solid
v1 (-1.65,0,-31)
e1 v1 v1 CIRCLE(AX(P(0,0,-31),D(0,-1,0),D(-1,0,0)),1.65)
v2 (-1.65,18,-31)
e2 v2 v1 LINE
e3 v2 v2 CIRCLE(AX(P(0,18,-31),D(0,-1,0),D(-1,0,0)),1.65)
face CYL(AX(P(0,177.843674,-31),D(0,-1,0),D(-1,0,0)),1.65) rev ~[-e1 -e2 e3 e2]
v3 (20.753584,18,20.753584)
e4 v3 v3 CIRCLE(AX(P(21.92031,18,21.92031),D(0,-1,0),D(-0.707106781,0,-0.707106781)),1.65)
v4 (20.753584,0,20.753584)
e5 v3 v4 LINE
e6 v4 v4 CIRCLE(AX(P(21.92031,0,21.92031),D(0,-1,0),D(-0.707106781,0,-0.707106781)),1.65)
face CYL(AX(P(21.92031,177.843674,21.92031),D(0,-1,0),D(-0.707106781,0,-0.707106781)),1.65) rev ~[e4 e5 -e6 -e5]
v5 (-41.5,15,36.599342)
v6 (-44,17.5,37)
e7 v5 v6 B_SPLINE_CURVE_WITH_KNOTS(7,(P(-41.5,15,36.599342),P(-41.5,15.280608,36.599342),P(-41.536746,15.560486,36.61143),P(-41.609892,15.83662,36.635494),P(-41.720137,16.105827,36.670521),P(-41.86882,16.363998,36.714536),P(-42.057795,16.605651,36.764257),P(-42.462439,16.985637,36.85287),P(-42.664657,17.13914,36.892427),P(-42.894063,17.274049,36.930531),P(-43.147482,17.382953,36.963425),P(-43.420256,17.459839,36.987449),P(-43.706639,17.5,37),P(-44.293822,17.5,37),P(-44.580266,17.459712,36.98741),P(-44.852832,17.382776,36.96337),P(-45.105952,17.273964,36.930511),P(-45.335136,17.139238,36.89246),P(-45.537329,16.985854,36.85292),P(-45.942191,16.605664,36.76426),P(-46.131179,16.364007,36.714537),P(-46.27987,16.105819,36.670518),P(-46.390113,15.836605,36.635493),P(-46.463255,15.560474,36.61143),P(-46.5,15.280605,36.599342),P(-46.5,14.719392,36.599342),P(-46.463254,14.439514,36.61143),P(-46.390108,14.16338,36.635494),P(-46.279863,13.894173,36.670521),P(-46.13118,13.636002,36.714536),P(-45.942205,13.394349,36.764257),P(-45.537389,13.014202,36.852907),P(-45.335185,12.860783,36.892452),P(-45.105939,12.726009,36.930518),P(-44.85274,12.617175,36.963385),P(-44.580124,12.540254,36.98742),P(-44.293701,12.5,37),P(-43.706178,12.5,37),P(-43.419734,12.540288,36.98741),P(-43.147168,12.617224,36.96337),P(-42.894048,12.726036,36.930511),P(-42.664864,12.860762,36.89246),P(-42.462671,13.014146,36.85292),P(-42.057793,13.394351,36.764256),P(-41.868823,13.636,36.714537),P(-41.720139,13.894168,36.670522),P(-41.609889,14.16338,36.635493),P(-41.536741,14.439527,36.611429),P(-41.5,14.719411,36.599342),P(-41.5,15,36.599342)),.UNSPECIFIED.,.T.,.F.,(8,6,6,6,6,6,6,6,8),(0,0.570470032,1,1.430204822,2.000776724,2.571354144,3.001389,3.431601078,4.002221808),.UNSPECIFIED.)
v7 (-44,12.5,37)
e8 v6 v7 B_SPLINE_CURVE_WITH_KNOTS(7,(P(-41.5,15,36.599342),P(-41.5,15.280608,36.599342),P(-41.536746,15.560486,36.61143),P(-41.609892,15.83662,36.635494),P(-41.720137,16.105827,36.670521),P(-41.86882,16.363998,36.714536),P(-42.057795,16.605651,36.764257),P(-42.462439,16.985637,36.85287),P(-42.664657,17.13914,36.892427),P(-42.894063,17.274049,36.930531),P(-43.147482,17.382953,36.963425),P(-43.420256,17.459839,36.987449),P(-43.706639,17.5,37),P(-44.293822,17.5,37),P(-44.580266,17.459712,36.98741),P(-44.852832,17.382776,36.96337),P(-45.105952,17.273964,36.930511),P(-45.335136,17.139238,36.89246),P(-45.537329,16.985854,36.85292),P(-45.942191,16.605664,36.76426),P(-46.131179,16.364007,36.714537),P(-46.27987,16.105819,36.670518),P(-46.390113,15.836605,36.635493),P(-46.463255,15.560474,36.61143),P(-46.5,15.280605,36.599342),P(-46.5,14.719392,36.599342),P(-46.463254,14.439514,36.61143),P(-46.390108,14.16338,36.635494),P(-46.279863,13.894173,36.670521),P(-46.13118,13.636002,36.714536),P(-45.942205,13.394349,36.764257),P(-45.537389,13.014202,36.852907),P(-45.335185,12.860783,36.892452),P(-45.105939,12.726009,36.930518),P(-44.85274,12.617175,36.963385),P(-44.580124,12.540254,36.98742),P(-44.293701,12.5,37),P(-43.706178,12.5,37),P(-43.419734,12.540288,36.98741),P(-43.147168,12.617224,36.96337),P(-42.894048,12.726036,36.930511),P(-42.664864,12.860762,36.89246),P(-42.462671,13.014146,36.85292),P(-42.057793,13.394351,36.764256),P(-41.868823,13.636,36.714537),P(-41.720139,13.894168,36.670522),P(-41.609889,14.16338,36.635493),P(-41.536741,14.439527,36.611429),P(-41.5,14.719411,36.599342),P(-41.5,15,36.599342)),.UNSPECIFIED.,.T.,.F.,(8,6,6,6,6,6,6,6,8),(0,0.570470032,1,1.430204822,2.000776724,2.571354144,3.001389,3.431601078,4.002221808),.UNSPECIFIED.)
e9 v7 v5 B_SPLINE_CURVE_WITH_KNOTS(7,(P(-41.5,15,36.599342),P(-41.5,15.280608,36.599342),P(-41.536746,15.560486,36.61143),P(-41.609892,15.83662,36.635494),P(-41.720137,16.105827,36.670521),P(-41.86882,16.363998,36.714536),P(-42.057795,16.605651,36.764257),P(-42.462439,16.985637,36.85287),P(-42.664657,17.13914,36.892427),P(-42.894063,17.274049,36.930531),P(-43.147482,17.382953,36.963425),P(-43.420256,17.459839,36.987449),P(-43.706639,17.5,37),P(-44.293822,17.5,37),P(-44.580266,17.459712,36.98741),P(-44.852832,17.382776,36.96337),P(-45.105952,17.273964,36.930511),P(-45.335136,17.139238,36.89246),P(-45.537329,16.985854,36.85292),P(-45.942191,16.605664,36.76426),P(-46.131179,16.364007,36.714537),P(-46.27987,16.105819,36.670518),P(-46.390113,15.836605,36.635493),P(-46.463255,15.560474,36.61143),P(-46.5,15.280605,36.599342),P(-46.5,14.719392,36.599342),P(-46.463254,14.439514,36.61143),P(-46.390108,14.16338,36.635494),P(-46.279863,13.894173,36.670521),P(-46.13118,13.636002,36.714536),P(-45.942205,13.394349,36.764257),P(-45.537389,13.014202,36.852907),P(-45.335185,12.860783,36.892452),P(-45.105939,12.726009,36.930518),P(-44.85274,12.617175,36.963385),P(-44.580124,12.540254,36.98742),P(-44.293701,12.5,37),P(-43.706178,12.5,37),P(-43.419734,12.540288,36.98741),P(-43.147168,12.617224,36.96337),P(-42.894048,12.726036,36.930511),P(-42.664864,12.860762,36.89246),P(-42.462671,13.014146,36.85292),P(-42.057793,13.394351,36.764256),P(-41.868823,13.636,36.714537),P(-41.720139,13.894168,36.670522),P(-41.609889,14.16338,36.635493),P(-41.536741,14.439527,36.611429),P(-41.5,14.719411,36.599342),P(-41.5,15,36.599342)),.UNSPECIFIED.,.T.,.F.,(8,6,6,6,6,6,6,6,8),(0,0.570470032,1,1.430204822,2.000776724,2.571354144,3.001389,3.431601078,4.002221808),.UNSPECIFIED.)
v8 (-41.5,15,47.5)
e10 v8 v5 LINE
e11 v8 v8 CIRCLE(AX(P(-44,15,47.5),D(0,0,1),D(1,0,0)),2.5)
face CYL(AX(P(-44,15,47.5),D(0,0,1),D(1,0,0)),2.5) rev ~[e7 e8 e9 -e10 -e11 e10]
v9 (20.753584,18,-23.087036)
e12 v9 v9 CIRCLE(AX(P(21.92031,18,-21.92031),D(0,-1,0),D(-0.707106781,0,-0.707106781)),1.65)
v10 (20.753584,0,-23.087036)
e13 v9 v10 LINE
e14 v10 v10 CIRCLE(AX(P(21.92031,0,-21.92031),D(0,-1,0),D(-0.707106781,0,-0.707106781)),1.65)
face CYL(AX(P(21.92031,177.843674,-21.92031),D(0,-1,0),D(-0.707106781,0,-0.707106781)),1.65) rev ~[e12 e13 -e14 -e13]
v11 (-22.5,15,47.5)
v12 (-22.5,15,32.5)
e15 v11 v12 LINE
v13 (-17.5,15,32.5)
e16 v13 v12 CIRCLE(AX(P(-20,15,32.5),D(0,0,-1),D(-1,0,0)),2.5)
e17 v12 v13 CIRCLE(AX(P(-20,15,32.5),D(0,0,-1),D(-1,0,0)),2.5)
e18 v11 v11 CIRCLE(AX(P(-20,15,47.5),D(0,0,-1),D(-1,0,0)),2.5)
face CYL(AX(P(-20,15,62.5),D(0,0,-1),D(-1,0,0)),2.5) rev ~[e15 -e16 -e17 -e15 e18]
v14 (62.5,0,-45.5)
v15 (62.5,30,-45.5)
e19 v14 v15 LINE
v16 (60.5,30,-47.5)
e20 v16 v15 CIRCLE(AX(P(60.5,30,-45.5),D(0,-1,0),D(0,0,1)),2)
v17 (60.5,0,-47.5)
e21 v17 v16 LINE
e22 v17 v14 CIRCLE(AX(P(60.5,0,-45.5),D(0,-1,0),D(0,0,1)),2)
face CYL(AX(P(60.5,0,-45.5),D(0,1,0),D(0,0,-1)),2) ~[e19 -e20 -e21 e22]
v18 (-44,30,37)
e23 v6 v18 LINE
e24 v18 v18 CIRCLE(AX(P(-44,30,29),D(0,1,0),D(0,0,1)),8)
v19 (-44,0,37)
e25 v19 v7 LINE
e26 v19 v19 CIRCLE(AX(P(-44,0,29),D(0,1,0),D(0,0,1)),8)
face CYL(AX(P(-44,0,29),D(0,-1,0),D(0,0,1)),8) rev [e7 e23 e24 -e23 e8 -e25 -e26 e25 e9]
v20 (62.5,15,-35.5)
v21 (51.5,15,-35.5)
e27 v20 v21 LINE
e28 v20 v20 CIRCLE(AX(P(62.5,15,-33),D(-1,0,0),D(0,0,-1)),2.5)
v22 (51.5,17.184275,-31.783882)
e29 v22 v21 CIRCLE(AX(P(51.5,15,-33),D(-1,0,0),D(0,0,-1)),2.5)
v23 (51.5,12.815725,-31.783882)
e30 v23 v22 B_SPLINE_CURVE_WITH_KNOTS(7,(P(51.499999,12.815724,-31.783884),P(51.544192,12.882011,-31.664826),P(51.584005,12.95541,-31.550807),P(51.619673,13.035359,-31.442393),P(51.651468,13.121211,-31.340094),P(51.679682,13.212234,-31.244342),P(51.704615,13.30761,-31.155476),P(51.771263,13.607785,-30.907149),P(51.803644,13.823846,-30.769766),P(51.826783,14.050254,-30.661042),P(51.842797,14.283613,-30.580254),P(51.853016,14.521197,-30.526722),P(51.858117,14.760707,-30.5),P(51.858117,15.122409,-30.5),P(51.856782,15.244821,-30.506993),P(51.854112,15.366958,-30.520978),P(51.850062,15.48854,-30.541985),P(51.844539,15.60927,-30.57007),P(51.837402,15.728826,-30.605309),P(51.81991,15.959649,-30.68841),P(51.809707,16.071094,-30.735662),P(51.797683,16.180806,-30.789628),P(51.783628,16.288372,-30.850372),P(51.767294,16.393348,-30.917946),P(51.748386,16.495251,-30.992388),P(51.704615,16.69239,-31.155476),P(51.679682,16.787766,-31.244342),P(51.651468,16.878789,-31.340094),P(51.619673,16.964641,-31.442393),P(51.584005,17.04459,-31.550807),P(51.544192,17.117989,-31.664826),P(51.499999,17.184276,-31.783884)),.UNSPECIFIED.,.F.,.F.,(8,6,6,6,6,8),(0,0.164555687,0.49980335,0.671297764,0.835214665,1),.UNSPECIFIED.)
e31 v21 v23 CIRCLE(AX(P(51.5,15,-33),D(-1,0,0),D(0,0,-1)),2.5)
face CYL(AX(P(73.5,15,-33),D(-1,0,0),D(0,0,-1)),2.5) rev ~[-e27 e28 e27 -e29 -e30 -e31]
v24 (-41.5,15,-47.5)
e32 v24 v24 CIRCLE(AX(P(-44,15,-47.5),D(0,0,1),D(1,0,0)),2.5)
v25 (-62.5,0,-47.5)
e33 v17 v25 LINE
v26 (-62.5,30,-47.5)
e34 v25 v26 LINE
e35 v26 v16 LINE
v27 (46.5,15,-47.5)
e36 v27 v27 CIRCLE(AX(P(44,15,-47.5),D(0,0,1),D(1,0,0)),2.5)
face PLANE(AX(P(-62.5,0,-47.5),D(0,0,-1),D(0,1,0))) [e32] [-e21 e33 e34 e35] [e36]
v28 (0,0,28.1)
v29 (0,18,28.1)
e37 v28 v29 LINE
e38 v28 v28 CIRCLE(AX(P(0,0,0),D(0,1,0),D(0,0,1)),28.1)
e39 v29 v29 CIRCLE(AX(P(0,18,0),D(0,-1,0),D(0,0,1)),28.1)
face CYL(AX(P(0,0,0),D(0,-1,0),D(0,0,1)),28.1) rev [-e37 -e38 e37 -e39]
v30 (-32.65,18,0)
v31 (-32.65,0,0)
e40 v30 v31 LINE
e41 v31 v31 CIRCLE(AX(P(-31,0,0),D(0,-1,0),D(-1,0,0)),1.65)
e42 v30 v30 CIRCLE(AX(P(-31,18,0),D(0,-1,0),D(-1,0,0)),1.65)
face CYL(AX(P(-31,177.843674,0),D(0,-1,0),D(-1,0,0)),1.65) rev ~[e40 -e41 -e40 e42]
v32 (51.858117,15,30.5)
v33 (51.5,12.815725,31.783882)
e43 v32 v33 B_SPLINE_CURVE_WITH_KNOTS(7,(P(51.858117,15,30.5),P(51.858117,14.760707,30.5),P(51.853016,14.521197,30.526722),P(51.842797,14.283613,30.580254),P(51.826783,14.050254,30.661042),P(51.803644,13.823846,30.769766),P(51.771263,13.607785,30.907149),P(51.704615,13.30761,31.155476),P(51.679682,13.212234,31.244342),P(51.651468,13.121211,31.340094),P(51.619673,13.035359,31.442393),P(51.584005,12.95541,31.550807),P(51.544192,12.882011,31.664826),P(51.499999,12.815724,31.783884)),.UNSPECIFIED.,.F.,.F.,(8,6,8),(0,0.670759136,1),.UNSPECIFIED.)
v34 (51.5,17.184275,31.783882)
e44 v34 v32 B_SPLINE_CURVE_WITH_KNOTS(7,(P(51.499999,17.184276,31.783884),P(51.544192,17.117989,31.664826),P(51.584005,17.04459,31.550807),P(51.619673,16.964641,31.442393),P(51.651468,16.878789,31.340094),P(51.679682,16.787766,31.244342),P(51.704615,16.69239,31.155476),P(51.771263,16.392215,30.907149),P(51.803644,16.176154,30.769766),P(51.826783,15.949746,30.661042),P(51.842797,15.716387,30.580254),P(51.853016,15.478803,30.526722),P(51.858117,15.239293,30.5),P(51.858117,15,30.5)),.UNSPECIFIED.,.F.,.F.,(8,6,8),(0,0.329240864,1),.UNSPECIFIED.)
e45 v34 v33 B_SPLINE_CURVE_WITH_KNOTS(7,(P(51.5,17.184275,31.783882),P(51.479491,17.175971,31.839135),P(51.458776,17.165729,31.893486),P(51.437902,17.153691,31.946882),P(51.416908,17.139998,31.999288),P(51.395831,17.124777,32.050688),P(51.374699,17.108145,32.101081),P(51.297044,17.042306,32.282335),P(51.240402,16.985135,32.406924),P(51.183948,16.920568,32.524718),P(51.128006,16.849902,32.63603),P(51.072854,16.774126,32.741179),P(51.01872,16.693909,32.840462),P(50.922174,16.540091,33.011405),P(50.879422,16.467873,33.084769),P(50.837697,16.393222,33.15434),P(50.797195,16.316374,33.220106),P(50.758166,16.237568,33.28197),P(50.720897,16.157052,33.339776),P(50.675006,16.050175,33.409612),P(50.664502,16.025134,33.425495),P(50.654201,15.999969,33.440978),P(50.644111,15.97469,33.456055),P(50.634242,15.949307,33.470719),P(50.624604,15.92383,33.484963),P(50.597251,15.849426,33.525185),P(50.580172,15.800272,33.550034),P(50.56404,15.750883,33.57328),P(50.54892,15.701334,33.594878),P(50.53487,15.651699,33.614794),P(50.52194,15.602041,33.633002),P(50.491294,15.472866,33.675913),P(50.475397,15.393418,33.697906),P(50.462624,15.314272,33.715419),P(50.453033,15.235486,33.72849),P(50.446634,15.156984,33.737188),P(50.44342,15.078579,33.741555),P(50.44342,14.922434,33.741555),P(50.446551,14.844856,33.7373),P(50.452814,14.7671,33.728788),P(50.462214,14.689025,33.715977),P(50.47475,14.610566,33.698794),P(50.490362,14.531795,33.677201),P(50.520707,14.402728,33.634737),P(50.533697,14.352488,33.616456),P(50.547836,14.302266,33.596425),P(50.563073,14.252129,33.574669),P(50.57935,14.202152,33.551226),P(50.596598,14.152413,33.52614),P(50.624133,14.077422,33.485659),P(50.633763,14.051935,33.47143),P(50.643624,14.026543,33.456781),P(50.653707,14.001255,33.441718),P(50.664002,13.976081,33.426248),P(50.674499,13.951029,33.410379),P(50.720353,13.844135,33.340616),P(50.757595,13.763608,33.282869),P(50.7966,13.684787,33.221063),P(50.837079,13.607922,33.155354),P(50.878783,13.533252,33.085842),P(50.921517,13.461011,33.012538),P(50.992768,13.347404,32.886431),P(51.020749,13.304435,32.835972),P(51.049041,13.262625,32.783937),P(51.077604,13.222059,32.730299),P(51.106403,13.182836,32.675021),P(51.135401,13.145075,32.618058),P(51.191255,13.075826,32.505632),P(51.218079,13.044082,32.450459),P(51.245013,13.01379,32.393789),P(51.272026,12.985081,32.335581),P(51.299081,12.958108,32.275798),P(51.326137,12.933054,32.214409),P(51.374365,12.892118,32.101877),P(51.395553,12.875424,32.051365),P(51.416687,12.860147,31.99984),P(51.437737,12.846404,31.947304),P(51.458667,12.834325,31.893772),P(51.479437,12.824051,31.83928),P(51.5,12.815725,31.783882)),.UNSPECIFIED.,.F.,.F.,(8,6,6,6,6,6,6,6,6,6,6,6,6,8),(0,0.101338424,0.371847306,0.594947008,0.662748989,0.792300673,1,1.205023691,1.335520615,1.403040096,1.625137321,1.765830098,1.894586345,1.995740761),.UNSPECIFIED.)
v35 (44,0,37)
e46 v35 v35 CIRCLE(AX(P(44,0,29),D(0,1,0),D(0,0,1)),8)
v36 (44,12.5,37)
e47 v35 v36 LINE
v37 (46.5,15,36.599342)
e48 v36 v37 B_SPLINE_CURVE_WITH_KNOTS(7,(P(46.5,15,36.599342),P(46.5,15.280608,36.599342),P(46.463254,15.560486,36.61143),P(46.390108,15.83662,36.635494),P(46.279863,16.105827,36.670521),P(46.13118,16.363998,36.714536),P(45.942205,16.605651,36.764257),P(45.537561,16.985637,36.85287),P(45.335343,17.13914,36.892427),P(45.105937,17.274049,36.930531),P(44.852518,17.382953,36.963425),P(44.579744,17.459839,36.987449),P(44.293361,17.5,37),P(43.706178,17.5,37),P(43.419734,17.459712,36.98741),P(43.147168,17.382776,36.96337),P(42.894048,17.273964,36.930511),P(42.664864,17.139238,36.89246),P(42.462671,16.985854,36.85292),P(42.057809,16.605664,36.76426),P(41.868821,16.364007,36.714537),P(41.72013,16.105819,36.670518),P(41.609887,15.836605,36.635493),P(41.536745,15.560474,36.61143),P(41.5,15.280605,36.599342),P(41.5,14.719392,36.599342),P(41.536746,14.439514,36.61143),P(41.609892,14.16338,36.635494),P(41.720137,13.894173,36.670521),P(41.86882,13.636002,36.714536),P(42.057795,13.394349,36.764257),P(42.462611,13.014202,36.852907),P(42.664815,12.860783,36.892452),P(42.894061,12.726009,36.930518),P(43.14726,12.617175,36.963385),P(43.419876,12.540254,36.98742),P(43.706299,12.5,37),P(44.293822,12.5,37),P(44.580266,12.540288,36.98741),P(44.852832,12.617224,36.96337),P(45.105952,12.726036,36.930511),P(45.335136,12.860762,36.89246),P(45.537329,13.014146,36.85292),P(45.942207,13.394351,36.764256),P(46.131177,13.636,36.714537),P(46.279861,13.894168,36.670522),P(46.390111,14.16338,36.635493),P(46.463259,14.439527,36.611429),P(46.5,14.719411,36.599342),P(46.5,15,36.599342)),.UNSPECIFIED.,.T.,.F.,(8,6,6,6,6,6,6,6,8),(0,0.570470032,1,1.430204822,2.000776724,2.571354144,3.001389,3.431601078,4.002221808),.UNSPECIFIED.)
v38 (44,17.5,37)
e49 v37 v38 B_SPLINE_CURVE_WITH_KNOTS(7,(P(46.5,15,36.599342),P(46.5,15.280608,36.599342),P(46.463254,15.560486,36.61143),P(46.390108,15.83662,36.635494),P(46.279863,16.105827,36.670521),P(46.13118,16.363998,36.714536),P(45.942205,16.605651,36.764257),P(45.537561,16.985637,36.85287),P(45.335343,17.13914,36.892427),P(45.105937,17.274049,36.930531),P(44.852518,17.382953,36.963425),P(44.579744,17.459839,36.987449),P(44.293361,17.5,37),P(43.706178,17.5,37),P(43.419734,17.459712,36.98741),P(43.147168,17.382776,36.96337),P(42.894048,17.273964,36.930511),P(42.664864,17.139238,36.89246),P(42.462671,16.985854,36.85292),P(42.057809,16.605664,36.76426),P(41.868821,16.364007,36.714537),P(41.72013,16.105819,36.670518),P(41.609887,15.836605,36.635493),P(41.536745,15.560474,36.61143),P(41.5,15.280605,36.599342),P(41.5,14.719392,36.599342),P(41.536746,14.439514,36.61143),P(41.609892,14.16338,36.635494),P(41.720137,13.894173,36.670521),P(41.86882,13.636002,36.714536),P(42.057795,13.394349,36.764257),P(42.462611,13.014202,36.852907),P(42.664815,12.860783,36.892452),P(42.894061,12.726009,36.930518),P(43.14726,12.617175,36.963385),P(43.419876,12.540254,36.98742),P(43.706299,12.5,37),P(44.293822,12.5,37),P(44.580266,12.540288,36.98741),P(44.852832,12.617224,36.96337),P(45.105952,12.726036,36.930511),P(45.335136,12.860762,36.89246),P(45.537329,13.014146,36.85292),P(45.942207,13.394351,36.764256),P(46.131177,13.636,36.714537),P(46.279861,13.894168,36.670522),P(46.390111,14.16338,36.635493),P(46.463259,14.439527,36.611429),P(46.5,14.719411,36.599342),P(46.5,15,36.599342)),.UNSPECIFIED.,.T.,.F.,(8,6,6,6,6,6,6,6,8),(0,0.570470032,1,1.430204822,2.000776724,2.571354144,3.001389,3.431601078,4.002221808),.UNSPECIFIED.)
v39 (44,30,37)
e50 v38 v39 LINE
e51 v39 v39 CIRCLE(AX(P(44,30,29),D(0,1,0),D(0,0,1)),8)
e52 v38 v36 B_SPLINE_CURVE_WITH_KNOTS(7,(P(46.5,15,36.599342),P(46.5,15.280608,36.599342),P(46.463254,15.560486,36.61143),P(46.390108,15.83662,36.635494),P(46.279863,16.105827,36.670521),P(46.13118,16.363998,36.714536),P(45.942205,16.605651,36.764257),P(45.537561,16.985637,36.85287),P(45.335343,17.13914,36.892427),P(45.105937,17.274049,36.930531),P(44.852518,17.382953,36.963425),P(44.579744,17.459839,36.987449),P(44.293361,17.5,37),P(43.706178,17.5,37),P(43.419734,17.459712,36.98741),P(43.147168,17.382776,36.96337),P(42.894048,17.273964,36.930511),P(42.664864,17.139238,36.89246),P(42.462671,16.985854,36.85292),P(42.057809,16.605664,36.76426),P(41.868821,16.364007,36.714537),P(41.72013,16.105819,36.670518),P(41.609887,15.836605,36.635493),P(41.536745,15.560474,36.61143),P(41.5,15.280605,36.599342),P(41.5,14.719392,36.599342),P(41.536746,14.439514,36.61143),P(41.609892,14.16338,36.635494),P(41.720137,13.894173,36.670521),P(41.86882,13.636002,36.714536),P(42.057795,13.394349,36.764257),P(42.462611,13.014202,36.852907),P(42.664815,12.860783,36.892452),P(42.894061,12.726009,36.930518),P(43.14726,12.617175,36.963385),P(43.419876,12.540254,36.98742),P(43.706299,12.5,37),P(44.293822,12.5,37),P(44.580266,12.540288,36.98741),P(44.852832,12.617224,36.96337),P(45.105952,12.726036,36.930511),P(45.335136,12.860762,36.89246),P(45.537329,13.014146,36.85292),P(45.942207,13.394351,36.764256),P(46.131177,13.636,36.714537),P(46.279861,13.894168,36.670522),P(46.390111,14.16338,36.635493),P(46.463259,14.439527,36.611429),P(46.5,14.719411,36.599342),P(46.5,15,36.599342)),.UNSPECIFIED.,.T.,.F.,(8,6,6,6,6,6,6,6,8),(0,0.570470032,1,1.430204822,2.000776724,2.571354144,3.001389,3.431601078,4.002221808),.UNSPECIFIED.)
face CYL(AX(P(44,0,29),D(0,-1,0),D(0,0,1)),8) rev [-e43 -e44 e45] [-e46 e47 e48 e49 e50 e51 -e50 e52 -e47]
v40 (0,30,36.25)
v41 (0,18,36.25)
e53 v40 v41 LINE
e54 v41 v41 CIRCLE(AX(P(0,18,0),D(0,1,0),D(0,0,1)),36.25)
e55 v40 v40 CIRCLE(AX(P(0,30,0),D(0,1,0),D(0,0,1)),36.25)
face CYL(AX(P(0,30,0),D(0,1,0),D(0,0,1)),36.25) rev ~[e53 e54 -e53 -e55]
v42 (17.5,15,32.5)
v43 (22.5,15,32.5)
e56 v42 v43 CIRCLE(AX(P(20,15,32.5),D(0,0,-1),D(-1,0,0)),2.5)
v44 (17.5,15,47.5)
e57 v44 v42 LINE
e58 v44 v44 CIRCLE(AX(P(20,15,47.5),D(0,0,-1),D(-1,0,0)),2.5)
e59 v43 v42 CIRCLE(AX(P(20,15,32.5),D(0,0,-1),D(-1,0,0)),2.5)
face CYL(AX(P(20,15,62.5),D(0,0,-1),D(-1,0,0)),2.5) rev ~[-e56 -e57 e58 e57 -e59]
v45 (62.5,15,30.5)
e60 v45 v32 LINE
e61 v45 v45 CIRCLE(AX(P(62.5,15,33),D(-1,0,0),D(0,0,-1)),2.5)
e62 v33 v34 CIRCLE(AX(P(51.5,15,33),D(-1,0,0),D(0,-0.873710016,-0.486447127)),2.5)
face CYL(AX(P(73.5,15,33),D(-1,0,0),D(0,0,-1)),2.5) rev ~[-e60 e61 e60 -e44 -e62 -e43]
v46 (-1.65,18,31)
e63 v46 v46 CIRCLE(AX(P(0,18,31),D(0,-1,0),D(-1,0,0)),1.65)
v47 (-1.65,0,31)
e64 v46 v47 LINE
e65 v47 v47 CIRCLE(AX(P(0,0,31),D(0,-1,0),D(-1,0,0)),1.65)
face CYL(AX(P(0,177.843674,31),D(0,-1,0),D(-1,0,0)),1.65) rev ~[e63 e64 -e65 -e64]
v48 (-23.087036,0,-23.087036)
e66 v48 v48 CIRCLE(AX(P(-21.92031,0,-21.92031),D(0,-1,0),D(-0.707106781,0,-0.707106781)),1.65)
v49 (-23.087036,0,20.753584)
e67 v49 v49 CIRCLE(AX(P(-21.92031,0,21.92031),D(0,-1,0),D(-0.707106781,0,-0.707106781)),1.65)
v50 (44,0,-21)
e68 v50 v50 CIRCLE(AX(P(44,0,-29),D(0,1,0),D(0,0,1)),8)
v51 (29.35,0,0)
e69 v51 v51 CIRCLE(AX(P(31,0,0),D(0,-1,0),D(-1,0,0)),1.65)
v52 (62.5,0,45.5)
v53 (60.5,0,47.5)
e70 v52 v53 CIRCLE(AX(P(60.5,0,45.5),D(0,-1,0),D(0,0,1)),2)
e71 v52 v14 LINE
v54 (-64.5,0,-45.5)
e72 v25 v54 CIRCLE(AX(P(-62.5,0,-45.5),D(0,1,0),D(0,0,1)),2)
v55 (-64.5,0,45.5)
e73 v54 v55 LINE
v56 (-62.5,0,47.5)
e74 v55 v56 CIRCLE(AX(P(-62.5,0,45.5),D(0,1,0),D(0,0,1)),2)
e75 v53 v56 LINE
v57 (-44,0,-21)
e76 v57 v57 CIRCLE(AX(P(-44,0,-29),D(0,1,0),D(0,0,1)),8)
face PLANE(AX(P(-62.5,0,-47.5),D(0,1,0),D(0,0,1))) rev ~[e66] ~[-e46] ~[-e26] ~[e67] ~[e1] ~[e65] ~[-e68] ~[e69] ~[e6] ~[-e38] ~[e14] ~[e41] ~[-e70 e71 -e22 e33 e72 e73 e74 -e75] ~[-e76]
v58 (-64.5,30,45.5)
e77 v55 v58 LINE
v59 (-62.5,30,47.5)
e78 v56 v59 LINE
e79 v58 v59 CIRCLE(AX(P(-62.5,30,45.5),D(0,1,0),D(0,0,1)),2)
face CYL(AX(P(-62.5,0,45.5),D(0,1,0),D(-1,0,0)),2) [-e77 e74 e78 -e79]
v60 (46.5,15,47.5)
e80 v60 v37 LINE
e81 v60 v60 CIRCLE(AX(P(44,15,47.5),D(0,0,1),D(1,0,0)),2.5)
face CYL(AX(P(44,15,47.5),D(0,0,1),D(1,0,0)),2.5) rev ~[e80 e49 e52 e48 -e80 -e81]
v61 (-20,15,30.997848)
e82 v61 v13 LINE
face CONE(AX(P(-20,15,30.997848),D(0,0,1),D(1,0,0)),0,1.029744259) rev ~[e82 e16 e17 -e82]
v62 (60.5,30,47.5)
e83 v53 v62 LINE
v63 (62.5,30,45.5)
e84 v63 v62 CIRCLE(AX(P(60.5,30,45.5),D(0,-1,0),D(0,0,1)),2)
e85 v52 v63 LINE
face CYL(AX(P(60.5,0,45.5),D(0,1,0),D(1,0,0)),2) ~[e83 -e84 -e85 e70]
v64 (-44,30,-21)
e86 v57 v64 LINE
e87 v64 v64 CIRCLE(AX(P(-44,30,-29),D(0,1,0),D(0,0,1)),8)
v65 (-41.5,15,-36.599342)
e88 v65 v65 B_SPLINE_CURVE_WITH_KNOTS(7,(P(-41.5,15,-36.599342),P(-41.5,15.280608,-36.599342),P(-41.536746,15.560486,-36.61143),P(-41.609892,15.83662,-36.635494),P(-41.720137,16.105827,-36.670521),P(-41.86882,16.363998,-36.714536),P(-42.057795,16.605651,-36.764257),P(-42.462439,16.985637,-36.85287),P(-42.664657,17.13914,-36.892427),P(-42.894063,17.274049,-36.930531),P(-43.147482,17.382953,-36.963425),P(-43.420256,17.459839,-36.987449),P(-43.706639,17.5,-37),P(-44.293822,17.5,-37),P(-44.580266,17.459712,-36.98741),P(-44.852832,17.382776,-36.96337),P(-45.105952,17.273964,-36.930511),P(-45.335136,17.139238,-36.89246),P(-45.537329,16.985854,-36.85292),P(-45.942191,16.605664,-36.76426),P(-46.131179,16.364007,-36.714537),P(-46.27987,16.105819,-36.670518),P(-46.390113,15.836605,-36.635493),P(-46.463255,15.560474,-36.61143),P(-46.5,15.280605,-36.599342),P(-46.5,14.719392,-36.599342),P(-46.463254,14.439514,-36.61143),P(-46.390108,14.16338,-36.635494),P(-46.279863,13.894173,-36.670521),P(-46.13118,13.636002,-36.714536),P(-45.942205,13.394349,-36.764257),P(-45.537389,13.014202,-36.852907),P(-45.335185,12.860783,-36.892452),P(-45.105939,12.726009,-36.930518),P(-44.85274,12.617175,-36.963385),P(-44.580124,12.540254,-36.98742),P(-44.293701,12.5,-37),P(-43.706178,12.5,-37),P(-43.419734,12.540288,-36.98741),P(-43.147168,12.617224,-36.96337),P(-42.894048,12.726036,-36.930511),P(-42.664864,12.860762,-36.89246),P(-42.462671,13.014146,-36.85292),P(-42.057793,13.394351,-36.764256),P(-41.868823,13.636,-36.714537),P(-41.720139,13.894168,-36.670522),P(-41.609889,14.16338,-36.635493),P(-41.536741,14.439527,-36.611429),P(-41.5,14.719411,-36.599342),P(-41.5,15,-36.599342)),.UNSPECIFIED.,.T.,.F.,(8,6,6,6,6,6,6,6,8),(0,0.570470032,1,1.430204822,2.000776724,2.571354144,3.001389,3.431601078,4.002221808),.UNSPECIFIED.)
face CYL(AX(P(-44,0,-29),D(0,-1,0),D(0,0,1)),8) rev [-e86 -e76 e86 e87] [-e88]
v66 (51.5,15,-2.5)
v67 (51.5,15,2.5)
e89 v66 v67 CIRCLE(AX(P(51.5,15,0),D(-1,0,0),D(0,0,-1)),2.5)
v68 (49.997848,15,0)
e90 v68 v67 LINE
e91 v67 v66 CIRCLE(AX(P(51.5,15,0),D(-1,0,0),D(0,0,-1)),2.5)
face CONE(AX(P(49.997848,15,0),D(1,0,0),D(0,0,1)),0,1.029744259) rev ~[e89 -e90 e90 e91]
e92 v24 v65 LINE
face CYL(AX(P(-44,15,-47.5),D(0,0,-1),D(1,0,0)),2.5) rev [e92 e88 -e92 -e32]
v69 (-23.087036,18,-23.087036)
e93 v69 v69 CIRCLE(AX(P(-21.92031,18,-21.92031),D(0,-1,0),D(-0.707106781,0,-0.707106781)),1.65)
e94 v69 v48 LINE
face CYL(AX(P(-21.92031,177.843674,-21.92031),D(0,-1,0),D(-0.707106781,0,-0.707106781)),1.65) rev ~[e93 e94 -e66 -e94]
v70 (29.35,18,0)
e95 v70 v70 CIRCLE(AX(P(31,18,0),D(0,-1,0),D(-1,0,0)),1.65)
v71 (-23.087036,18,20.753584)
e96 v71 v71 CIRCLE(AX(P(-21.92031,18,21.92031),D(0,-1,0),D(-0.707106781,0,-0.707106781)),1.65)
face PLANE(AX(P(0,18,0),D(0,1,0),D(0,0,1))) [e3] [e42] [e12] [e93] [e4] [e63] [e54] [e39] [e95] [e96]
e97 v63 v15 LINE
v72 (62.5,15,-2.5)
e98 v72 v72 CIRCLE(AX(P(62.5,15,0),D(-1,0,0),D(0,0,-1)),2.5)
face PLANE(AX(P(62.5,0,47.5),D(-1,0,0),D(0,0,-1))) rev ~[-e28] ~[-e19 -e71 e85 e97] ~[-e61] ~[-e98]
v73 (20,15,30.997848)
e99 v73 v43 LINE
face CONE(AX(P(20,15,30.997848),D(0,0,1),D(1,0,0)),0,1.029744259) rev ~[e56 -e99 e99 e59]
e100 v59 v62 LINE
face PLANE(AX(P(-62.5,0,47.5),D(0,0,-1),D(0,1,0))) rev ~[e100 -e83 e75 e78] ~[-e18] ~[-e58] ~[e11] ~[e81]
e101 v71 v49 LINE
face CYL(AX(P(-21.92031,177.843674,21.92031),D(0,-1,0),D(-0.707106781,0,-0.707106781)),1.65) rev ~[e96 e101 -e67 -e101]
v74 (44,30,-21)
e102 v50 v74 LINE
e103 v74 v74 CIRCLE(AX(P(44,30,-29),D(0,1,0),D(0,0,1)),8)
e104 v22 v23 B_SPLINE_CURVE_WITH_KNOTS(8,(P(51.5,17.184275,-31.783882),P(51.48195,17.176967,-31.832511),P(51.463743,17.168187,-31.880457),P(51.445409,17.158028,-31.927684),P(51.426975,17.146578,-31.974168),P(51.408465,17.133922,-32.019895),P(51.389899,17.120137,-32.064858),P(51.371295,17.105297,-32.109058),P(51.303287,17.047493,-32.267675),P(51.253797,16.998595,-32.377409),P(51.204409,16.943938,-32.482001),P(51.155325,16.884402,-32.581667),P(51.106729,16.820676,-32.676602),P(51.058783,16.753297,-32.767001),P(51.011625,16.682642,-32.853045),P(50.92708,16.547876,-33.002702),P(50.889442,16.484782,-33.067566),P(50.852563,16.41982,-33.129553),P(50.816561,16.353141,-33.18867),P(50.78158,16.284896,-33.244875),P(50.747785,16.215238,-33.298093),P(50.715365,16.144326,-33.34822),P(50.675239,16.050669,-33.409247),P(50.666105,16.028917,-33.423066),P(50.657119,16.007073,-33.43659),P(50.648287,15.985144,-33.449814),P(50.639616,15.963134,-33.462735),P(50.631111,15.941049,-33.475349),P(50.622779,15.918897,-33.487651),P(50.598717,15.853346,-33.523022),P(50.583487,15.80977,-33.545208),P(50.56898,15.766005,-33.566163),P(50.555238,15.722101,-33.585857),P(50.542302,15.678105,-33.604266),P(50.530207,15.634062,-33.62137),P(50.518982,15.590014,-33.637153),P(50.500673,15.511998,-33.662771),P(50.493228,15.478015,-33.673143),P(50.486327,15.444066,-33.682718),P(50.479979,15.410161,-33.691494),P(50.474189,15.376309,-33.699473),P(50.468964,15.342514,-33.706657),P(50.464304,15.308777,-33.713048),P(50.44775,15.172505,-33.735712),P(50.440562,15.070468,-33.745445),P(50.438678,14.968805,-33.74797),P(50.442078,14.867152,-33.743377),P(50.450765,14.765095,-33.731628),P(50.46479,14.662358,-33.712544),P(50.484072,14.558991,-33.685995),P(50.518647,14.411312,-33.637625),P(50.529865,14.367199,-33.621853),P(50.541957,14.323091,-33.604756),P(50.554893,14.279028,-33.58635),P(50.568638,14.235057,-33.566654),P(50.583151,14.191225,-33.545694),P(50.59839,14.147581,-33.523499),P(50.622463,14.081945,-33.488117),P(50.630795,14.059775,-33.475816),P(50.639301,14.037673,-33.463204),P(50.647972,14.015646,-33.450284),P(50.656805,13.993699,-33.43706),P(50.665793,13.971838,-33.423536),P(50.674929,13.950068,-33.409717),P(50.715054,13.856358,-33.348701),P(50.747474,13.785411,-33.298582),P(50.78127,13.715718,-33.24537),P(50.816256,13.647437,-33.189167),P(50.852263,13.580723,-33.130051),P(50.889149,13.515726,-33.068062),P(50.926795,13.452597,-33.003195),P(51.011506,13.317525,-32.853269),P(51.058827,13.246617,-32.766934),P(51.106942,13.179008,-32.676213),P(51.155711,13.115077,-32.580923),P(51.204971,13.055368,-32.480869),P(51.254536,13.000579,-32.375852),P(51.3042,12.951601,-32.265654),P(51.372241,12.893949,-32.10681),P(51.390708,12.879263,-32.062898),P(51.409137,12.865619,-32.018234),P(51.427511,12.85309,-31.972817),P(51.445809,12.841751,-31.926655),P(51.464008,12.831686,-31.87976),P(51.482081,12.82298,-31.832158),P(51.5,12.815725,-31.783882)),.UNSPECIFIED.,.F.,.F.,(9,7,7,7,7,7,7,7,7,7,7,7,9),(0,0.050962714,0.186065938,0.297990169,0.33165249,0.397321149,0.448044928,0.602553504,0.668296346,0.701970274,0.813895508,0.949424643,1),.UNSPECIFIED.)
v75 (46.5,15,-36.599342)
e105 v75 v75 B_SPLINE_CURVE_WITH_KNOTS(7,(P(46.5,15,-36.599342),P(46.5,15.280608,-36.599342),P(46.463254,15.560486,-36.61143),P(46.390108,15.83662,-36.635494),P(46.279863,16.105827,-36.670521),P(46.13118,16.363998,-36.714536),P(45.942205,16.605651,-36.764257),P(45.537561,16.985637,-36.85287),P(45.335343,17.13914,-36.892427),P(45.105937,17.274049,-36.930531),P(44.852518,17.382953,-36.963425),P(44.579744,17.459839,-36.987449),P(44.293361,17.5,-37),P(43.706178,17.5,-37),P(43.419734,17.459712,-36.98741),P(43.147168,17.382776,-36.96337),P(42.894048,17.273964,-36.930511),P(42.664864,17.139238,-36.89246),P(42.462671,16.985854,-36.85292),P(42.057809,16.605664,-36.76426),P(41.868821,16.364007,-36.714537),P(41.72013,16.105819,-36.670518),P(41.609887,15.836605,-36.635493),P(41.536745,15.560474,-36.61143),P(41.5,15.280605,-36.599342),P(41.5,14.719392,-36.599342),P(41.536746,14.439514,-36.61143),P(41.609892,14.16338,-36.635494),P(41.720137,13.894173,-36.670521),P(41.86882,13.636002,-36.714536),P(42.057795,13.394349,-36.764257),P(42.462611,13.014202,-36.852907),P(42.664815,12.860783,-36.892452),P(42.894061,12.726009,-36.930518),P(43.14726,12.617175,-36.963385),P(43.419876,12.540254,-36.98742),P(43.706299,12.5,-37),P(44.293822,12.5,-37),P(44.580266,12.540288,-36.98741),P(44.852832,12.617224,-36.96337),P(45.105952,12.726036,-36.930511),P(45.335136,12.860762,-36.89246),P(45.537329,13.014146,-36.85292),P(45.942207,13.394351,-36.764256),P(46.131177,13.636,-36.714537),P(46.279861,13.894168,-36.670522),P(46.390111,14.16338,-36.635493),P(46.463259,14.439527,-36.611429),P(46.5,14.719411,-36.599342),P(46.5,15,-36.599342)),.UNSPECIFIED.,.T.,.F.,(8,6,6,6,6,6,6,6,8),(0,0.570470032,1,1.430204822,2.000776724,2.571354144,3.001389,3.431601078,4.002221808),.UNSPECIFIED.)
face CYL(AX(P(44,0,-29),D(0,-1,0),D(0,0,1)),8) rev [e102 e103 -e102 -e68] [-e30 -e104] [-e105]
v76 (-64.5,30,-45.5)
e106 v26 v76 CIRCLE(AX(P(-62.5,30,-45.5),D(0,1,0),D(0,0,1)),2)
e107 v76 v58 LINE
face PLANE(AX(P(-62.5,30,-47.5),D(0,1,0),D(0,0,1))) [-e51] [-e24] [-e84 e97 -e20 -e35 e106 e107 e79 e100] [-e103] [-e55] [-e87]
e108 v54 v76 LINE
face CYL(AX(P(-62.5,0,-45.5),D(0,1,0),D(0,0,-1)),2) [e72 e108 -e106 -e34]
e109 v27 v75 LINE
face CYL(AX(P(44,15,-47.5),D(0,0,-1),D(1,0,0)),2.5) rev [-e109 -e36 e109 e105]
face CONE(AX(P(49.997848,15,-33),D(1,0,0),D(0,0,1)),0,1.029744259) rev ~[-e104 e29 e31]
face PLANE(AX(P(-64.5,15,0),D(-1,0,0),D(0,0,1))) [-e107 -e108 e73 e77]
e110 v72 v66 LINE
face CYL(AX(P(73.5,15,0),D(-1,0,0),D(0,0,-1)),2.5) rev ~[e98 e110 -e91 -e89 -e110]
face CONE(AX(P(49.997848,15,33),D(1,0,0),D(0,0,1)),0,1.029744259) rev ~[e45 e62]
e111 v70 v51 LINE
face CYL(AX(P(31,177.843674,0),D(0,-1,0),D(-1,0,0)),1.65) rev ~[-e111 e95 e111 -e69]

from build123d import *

# Parameters (mm, degrees)
SKETCH2_W                  = 125
SKETCH2_H                  = 95
SKETCH2_R                  = 28.1
SKETCH2_R_2                = 8
BOSS_EXTRUDE1_DEPTH        = 30
SKETCH10_R                 = 36.25
CUT_EXTRUDE3_DEPTH         = 12
M4X0_7_TAPPED_HOLE1_D      = 3.3
M6X1_0_TAPPED_HOLE1_D      = 5
M6X1_0_TAPPED_HOLE1_DEPTH  = 15
M6X1_0_TAPPED_HOLE1_TIP    = 1.502151548
SKETCH19_W                 = 95
SKETCH19_H                 = 30
BOSS_EXTRUDE3_DEPTH        = 2
M6X1_0_TAPPED_HOLE2_D      = 5
M6X1_0_TAPPED_HOLE2_DEPTH  = 11
M6X1_0_TAPPED_HOLE2_TIP    = 1.502151548
CIRPATTERN1_COUNT          = 2
CIRPATTERN1_ANGLE          = 45
M6X1_0_TAPPED_HOLE5_REACH  = 120.681
M6X1_0_TAPPED_HOLE5_BORE_R = 2.5
FILLET1_R                  = 2


with BuildPart() as part:
    # Sketch2 → Boss-Extrude1 (new body)
    with BuildSketch(Plane(origin=(0, 0, 0), x_dir=(1, 0, 0), z_dir=(0, 1, 0))):
        Rectangle(SKETCH2_W, SKETCH2_H)
        with Locations(Location((0, 0, 0), (0, 0, 270))):
            Circle(SKETCH2_R, mode=Mode.SUBTRACT)
        with Locations(Location((44, 29, 0), (0, 0, 270))):
            Circle(SKETCH2_R_2, mode=Mode.SUBTRACT)
        with Locations(Location((44, -29, 0), (0, 0, 270))):
            Circle(SKETCH2_R_2, mode=Mode.SUBTRACT)
        with Locations(Location((-44, -29, 0), (0, 0, 270))):
            Circle(SKETCH2_R_2, mode=Mode.SUBTRACT)
        with Locations(Location((-44, 29, 0), (0, 0, 270))):
            Circle(SKETCH2_R_2, mode=Mode.SUBTRACT)
    extrude(amount=BOSS_EXTRUDE1_DEPTH)

    # Sketch10 → Cut-Extrude3 (cut)
    with BuildSketch(Plane(origin=(0, 30, 0), x_dir=(1, 0, 0), z_dir=(0, 1, 0))):
        with Locations(Location((0, 0, 0), (0, 0, 270))):
            Circle(SKETCH10_R)
    extrude(amount=-CUT_EXTRUDE3_DEPTH, mode=Mode.SUBTRACT)

    # M4x0.7 Tapped Hole1 (through all)
    with Locations(Plane(origin=(0, 18, 0), x_dir=(1, 0, 0), z_dir=(0, 1, 0))):
        with Locations((0, 31), (31, 0), (0, -31), (-31, 0)):
            m4x0_7_tapped_hole1 = Hole(M4X0_7_TAPPED_HOLE1_D / 2)

    # M6x1.0 Tapped Hole1
    with Locations(Plane.XY.offset(47.5)):
        with Locations((-20, 15), (20, 15)):
            Hole(M6X1_0_TAPPED_HOLE1_D / 2, depth=M6X1_0_TAPPED_HOLE1_DEPTH)
            with Locations((0, 0, -(M6X1_0_TAPPED_HOLE1_DEPTH + M6X1_0_TAPPED_HOLE1_TIP / 2))):  # 118° drill point
                Cone(0, M6X1_0_TAPPED_HOLE1_D / 2, M6X1_0_TAPPED_HOLE1_TIP, mode=Mode.SUBTRACT)

    # Sketch19 → Boss-Extrude3 (add)
    with BuildSketch(Plane.ZY.offset(62.5)):
        with Locations((0, 15)):
            Rectangle(SKETCH19_W, SKETCH19_H)
    extrude(amount=BOSS_EXTRUDE3_DEPTH)

    # M6x1.0 Tapped Hole2
    with Locations(Plane(origin=(62.5, 0, 0), x_dir=(0, 0, 1), z_dir=(1, 0, 0))):
        with Locations((33, -15), (0, -15), (-33, -15)):
            Hole(M6X1_0_TAPPED_HOLE2_D / 2, depth=M6X1_0_TAPPED_HOLE2_DEPTH)
            with Locations((0, 0, -(M6X1_0_TAPPED_HOLE2_DEPTH + M6X1_0_TAPPED_HOLE2_TIP / 2))):  # 118° drill point
                Cone(0, M6X1_0_TAPPED_HOLE2_D / 2, M6X1_0_TAPPED_HOLE2_TIP, mode=Mode.SUBTRACT)

    # CirPattern1: M4x0.7 Tapped Hole1 ×2 about axis
    cirpattern1_axis = Axis((0, 0, 0), (0, -1, 0))
    for i in range(1, CIRPATTERN1_COUNT):
        add(m4x0_7_tapped_hole1.rotate(cirpattern1_axis, i * CIRPATTERN1_ANGLE / (CIRPATTERN1_COUNT - 1)), mode=Mode.SUBTRACT)

    # M6x1.0 Tapped Hole5 bore → M6x1.0 Tapped Hole5 (cut, up to next)
    with BuildSketch(Plane.XY.offset(47.5), mode=Mode.PRIVATE) as m6x1_0_tapped_hole5_sk1:
        with Locations((44, 15)):
            Circle(M6X1_0_TAPPED_HOLE5_BORE_R)
    m6x1_0_tapped_hole5_tool1 = extrude(m6x1_0_tapped_hole5_sk1.sketch, amount=-M6X1_0_TAPPED_HOLE5_REACH, mode=Mode.PRIVATE) & part.part
    # M6x1.0 Tapped Hole5 bore → M6x1.0 Tapped Hole5 (cut, up to next)
    with BuildSketch(Plane.XY.offset(47.5), mode=Mode.PRIVATE) as m6x1_0_tapped_hole5_sk2:
        with Locations((-44, 15)):
            Circle(M6X1_0_TAPPED_HOLE5_BORE_R)
    m6x1_0_tapped_hole5_tool2 = extrude(m6x1_0_tapped_hole5_sk2.sketch, amount=-M6X1_0_TAPPED_HOLE5_REACH, mode=Mode.PRIVATE) & part.part
    m6x1_0_tapped_hole5_1 = m6x1_0_tapped_hole5_tool1.solids().sort_by_distance((44, 15, 47.5))[0]
    add(m6x1_0_tapped_hole5_1, mode=Mode.SUBTRACT)
    m6x1_0_tapped_hole5_2 = m6x1_0_tapped_hole5_tool2.solids().sort_by_distance((-44, 15, 47.5))[0]
    add(m6x1_0_tapped_hole5_2, mode=Mode.SUBTRACT)
    m6x1_0_tapped_hole5 = m6x1_0_tapped_hole5_1 + m6x1_0_tapped_hole5_2  # M6x1.0 Tapped Hole5 as one shape, for the pattern or mirror that repeats it

    # Fillet1
    fillet1_edges = [part.edges().sort_by_distance(p)[0] for p in [
        (62.5, 15, 47.5),
        (62.5, 15, -47.5),
        (-64.5, 15, -47.5),
        (-64.5, 15, 47.5),
    ]]
    fillet(fillet1_edges, radius=FILLET1_R)

    # Mirror1: M6x1.0 Tapped Hole5 across plane
    add(m6x1_0_tapped_hole5.mirror(Plane.XY), mode=Mode.SUBTRACT)


solid = part.part
